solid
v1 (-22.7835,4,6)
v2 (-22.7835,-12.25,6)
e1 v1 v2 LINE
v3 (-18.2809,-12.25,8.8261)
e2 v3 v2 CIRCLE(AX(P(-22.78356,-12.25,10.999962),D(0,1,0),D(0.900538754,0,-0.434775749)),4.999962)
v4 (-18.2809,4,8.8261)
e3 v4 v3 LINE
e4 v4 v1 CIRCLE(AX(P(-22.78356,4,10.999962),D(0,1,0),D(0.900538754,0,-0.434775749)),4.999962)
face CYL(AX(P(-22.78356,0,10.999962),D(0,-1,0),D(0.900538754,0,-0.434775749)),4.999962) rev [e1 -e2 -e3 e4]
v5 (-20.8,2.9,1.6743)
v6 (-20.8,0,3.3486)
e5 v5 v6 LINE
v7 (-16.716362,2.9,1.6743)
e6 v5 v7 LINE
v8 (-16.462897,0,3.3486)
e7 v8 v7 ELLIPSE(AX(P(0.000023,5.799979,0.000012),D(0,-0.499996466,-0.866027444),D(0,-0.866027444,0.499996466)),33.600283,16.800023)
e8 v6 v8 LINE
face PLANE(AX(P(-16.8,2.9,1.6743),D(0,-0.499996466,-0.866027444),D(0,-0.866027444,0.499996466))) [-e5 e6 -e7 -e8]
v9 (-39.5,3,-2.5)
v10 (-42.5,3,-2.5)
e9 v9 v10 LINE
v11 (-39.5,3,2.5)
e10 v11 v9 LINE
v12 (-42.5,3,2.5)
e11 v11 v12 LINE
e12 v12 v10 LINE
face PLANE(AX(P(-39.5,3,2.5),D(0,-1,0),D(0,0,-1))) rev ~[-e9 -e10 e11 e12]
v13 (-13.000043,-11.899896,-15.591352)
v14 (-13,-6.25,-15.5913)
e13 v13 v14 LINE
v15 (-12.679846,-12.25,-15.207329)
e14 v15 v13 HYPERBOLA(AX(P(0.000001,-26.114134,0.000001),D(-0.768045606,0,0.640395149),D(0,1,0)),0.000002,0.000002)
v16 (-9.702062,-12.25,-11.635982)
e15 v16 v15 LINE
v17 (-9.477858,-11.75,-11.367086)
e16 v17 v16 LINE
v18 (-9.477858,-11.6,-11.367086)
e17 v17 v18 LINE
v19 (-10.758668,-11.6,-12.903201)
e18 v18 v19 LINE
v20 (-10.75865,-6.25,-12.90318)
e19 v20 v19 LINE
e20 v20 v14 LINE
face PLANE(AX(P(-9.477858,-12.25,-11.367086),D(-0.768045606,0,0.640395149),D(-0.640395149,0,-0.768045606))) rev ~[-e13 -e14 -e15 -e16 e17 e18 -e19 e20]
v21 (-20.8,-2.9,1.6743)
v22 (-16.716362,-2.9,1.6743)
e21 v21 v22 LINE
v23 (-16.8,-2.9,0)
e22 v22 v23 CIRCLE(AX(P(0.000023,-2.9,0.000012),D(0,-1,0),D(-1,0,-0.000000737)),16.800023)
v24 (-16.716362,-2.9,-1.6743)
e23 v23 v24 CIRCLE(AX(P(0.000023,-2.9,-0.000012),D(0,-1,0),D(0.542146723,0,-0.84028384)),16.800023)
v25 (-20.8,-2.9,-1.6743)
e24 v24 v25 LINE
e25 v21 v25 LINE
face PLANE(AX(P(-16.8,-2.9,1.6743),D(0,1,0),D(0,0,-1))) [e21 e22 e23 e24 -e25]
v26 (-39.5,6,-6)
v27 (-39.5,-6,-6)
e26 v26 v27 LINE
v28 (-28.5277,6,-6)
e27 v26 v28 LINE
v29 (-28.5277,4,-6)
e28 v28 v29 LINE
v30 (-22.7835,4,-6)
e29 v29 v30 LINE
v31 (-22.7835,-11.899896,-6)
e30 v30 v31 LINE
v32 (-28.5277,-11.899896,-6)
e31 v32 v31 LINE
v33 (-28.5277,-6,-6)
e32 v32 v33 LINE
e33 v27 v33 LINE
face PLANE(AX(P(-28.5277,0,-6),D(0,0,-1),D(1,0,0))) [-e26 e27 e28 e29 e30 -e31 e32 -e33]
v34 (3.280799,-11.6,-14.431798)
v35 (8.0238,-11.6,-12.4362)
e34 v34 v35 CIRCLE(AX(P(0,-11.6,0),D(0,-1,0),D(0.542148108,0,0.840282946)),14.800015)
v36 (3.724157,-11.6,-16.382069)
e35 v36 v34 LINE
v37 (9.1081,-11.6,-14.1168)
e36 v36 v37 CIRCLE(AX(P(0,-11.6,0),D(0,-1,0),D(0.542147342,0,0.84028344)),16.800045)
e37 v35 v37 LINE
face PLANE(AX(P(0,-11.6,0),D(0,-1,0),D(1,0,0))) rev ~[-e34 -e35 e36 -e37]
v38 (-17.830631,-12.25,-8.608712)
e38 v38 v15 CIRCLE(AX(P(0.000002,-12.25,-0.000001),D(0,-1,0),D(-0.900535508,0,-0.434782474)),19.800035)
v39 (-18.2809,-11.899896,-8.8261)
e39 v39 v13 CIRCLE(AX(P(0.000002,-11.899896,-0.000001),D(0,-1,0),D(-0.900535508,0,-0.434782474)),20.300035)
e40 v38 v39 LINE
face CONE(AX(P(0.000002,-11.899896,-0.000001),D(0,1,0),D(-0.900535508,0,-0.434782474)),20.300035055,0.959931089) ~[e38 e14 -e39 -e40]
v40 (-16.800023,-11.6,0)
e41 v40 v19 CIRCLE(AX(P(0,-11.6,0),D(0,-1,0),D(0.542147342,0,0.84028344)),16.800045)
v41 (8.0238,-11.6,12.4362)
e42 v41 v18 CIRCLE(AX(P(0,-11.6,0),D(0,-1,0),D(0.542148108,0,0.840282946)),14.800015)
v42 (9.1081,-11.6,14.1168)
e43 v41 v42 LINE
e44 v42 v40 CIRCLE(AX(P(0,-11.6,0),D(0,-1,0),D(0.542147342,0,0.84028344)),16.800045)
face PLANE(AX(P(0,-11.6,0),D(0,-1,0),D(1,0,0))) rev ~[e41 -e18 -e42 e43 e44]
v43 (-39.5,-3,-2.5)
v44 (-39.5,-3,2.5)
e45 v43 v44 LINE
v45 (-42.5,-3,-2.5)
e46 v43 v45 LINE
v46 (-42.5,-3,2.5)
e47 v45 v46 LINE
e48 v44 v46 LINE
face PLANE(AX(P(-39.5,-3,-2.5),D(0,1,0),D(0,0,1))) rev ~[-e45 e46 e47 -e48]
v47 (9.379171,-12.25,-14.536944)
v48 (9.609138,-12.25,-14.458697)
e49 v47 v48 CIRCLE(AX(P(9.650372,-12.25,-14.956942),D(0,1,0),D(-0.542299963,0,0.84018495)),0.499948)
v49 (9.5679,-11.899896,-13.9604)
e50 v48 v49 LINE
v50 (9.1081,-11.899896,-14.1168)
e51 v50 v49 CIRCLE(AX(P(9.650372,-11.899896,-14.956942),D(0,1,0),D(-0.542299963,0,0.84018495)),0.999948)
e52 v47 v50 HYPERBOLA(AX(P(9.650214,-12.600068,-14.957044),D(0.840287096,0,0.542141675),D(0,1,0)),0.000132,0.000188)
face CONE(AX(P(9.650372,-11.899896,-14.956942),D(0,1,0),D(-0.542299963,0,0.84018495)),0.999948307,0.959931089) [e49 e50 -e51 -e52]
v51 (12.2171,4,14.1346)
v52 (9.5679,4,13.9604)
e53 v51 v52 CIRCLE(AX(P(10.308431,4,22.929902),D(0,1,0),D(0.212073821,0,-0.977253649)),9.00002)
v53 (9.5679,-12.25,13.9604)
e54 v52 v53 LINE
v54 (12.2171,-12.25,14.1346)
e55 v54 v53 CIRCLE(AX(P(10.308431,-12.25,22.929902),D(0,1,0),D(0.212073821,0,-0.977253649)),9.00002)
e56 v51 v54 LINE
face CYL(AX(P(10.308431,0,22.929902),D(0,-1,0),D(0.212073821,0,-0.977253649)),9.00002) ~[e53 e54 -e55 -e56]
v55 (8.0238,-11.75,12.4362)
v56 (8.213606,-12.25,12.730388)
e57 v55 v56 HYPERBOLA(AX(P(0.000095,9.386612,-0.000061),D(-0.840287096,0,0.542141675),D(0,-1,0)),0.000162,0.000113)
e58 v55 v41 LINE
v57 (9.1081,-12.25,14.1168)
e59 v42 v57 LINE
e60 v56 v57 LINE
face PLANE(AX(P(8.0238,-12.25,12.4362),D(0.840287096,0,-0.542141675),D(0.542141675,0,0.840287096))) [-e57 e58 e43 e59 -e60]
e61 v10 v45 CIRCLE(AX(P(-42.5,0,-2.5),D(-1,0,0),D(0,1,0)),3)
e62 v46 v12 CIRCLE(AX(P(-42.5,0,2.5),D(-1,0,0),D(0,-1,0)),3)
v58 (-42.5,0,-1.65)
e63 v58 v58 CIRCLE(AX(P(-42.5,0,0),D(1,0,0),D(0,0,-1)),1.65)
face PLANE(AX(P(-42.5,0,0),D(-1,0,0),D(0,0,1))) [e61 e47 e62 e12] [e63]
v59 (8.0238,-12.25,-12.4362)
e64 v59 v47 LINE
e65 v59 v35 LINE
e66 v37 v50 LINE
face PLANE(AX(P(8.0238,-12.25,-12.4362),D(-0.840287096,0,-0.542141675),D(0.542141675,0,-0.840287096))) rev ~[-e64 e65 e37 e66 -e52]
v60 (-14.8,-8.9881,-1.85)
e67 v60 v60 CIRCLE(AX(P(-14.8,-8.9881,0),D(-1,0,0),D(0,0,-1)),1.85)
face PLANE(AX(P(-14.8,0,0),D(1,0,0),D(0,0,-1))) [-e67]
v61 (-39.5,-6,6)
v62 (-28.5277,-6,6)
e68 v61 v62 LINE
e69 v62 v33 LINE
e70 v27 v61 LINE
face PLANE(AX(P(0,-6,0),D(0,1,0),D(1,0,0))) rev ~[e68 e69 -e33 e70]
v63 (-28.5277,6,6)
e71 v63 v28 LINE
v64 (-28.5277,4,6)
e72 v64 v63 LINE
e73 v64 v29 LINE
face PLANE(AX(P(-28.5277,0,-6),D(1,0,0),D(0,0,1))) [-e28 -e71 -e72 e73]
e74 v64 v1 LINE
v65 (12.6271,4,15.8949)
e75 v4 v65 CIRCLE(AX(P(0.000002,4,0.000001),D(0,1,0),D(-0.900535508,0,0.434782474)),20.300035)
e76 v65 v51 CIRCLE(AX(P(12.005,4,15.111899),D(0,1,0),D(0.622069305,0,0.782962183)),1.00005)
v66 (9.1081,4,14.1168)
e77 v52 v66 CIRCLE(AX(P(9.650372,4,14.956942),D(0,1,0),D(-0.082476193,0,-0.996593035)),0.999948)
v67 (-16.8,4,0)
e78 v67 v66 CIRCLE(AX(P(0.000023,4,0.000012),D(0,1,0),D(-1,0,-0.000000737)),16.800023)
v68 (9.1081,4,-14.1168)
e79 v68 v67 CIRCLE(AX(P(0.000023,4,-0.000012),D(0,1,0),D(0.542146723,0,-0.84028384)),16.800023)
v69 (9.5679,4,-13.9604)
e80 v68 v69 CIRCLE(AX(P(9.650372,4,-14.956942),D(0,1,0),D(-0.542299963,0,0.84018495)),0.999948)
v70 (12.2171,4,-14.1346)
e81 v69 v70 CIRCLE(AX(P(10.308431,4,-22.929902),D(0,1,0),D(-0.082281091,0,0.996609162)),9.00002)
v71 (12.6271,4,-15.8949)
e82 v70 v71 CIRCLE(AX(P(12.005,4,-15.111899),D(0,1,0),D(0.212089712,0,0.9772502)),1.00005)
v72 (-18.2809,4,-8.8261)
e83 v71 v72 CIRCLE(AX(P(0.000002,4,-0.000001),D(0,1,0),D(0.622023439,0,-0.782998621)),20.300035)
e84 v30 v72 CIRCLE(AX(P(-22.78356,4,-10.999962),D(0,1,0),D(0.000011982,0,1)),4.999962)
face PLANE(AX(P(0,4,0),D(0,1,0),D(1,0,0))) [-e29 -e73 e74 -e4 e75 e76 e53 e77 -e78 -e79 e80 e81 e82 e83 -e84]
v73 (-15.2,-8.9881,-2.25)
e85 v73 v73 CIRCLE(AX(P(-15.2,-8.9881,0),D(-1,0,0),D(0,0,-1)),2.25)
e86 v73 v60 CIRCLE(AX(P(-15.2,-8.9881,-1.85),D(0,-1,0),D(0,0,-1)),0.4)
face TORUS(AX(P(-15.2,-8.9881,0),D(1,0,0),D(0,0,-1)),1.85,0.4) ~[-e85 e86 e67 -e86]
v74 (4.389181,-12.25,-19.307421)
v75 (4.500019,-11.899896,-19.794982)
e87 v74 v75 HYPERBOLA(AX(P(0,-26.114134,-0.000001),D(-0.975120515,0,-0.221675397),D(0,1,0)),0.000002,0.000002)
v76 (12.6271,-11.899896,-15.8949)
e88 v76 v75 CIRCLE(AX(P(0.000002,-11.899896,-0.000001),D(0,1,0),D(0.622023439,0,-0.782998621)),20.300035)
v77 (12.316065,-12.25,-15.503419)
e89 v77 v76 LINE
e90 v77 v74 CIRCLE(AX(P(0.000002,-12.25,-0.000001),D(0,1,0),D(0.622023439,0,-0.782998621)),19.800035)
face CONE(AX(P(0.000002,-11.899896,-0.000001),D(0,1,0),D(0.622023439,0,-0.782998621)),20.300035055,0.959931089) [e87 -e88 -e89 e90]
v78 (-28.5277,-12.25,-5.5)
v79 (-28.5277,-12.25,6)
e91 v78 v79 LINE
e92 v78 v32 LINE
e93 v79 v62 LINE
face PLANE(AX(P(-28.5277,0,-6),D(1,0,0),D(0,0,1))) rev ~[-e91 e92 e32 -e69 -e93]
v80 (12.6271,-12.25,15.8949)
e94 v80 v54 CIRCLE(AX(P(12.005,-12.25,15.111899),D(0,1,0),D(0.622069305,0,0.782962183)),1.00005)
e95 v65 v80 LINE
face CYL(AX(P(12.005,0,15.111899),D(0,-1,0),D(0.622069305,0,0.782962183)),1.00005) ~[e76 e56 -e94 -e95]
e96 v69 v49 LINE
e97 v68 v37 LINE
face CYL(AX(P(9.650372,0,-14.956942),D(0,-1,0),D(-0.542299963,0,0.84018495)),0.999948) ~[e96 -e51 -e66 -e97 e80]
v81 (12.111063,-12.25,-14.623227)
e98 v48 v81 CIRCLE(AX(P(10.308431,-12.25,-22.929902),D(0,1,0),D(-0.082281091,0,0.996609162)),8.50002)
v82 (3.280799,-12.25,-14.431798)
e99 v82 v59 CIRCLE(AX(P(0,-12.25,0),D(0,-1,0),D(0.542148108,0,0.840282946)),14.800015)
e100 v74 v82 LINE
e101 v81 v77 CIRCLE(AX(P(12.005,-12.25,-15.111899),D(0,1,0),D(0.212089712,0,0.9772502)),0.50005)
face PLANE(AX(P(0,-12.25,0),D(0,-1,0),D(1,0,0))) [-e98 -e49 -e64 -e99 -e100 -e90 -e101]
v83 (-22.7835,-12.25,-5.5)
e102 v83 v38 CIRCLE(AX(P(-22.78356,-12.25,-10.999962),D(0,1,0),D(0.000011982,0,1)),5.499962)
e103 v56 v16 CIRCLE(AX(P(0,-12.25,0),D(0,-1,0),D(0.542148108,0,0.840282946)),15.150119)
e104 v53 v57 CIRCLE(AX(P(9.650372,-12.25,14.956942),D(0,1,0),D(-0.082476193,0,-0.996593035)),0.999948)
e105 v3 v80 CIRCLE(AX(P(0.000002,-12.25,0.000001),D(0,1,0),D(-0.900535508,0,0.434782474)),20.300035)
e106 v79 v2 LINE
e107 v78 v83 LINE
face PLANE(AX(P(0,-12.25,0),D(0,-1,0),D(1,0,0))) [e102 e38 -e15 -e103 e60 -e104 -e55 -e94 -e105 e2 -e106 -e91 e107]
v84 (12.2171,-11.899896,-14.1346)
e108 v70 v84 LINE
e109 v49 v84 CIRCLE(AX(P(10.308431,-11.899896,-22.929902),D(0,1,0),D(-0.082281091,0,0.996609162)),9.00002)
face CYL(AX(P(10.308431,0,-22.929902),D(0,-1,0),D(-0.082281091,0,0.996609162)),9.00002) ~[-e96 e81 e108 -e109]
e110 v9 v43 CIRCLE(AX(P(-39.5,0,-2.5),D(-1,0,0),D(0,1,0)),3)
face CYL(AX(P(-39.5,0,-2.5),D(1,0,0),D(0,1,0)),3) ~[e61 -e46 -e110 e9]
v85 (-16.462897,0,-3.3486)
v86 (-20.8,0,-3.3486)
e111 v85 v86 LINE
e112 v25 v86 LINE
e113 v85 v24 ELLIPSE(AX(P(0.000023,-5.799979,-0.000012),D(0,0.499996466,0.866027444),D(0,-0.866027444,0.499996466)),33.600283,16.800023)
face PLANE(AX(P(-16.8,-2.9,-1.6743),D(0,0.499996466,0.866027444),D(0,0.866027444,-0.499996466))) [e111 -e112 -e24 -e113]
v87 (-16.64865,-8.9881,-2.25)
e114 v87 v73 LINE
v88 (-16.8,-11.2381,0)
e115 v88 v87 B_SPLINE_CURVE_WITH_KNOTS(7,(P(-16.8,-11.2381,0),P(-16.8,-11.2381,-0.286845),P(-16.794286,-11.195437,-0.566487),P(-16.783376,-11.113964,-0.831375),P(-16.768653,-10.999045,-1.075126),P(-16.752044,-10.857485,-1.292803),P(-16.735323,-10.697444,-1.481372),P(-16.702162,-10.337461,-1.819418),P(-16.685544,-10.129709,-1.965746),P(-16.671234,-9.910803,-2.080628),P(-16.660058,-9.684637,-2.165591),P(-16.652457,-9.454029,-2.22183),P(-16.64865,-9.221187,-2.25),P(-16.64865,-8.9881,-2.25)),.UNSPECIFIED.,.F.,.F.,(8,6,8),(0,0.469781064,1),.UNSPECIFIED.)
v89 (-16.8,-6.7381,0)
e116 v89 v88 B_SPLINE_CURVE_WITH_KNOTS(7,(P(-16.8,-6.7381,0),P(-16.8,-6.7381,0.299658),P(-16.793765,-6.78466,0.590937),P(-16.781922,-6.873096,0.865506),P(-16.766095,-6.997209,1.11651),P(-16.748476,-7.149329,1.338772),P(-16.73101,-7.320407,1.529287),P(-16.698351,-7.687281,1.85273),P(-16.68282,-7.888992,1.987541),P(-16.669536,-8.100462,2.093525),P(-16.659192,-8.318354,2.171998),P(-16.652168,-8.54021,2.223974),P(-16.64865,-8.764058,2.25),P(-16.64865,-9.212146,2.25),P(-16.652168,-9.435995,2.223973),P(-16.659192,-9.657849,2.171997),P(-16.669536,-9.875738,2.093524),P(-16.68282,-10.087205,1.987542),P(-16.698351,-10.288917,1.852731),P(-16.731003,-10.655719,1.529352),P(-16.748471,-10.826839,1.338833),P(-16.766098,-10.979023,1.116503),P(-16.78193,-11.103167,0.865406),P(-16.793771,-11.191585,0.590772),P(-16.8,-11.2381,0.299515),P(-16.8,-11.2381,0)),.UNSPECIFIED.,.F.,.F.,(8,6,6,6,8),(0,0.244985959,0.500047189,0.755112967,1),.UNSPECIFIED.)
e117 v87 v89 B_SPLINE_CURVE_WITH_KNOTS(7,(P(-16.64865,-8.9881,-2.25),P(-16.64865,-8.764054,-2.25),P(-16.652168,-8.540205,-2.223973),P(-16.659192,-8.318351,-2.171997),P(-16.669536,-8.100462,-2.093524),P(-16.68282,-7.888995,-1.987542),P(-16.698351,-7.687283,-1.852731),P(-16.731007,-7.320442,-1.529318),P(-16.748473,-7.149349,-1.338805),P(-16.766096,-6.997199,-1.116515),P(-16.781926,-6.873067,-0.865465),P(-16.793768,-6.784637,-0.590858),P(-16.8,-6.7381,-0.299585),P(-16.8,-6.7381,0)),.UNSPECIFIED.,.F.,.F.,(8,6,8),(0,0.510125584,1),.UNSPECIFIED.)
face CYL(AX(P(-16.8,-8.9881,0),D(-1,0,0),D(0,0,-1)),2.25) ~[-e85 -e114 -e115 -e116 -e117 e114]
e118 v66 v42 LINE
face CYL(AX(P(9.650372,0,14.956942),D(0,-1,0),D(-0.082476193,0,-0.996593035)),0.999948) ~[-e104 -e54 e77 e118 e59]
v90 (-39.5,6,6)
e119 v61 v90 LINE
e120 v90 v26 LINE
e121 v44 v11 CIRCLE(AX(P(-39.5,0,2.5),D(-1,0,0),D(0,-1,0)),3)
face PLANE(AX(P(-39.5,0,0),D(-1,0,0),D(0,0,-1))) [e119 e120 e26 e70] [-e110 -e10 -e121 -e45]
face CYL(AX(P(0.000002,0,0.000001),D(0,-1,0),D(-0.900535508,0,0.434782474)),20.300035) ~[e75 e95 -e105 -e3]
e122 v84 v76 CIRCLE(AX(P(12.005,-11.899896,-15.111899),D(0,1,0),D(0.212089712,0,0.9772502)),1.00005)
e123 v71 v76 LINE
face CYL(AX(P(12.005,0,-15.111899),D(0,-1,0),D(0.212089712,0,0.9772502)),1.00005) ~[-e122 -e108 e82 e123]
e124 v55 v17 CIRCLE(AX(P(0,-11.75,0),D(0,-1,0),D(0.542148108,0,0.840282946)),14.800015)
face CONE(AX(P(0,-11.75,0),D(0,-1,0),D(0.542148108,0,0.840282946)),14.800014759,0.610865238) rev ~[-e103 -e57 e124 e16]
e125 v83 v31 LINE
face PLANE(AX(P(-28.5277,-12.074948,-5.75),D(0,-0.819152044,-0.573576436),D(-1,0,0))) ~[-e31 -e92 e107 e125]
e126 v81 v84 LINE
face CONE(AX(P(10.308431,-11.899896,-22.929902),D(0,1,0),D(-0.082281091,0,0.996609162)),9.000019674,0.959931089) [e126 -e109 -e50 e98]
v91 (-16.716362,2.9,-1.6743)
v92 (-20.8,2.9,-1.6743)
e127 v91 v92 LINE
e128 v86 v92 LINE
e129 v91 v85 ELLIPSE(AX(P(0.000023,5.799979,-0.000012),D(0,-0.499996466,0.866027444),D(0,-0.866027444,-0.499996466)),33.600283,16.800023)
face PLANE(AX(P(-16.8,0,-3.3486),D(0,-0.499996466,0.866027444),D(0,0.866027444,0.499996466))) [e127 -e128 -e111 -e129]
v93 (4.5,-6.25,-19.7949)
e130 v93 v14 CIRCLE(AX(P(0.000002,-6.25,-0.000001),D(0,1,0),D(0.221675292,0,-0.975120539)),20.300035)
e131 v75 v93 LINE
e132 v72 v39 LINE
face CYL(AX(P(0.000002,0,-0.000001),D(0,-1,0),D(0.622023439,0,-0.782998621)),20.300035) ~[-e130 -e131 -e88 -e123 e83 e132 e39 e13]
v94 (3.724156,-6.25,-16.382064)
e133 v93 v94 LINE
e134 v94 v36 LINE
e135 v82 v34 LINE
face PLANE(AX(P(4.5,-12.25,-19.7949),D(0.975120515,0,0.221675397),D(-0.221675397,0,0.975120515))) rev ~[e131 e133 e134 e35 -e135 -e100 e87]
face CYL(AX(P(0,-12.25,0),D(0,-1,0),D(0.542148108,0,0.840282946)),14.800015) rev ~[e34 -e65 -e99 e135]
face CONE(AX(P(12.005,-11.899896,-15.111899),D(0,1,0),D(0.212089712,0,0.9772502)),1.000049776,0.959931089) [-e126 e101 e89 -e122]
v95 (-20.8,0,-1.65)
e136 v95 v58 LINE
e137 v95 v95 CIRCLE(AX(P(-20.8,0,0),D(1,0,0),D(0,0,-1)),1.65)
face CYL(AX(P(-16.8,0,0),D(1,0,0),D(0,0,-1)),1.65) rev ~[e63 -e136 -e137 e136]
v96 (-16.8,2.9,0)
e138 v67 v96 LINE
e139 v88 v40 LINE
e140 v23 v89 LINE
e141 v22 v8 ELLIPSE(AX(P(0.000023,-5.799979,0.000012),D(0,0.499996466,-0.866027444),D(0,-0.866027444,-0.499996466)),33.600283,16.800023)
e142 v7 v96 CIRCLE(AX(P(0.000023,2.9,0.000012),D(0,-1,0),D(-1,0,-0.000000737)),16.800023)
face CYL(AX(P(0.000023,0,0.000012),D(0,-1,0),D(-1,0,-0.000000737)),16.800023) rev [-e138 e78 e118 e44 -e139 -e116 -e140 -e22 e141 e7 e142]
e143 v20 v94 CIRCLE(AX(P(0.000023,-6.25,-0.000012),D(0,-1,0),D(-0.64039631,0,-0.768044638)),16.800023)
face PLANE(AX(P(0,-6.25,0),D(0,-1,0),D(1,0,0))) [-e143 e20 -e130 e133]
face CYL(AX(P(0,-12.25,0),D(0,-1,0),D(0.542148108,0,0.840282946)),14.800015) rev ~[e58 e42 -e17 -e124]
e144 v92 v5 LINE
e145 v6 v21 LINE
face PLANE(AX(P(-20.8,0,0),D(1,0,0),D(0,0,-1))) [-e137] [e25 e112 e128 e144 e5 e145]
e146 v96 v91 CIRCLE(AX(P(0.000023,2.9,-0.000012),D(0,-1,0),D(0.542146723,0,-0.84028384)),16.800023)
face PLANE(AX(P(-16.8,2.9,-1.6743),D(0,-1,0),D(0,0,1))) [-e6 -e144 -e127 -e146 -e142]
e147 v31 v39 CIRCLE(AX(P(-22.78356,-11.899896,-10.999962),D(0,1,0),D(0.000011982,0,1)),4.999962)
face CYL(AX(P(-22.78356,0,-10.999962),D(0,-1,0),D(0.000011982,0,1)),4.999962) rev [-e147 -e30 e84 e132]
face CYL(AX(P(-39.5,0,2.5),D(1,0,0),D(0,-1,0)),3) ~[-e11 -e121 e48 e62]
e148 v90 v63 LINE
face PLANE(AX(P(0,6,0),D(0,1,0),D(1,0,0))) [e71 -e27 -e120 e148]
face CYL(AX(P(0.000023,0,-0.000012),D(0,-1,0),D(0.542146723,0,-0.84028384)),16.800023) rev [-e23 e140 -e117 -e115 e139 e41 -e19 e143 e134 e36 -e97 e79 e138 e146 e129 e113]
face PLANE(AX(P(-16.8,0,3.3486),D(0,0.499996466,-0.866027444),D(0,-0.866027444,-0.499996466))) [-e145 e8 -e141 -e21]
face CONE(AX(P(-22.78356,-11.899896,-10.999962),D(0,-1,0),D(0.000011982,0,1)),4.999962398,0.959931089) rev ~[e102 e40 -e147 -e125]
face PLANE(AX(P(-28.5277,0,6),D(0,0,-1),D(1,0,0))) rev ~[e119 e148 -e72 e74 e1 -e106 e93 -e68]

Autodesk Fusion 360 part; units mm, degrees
sketch "Sketch1" plane through (0, 0, 0) normal (0, 1, 0) x (1, 0, 0)
  line L0 (-39.5, 0) -> (-39.5, 6)
  line L1 (-39.5, 6) -> (-22.7835, 6)
  line L2 (-50, 0) -> (42, 0) construction
  line L3 (0, 0) -> (18.7964, 26.8441) construction
  arc A0 (9.1081, 14.1168) -> (-16.8, 0) centre (0, 0) ccw
  arc A1 (12.6271, 15.8949) -> (-18.2809, 8.8261) centre (0, 0) ccw
  arc A2 (-22.7835, 6) -> (-18.2809, 8.8261) centre (-22.7835, 11) ccw
  line L4 (-28.5277, 8) -> (-28.5277, 0)
  line L5 (-39.5, -6) -> (-22.7835, -6)
  arc A3 (-18.2809, -8.8261) -> (12.6271, -15.8949) centre (0, 0) ccw
  arc A4 (-18.2809, -8.8261) -> (-22.7835, -6) centre (-22.7835, -11) ccw
  line L6 (-28.5277, -8) -> (-28.5277, 0)
  arc A5 (-16.8, 0) -> (9.1081, -14.1168) centre (0, 0) ccw
  line L7 (-39.5, 0) -> (-39.5, -6)
  arc A6 (9.5679, 13.9604) -> (12.2171, 14.1346) centre (10.3084, 22.9299) ccw
  line L8 (0, 28) -> (0, 20.2823) construction
  line L9 (0, 20.3) -> (0, -24) construction
  arc A7 (12.2171, 14.1346) -> (12.6271, 15.8949) centre (12.005, 15.1119) ccw
  arc A8 (9.1081, 14.1168) -> (9.5679, 13.9604) centre (9.6502, 14.957) ccw
  arc A9 (12.6271, -15.8949) -> (12.2171, -14.1346) centre (12.005, -15.1119) ccw
  arc A10 (12.2171, -14.1346) -> (9.5679, -13.9604) centre (10.3084, -22.9299) ccw
  arc A11 (9.5679, -13.9604) -> (9.1081, -14.1168) centre (9.6502, -14.957) ccw
  point P0 (-50, 0)
  dimension "d1" = 33.6
  dimension "d4" = 6
  dimension "d5" = 39.5
  dimension "d6" = 3.5
  dimension "d7" = 5
  dimension "d11" = 55
  dimension "d30" = 1
  dimension "d31" = 9
  dimension "d32" = 1
extrude "Extrude1" add sketch "Sketch1" along normal blind 4 and the other way blind 12.25 contours L1 A0 A1 A2 L4 L5 A3 A4 L6 A5 A6 A7 A8 A9 A10 A11
extrude "Extrude2" add sketch "Sketch1" along normal mid plane 12 contours L0 L1 L4 L5 L6 L7
ref_plane "WorkPlane1" through (-16.8, 0, 0) normal (1, 0, 0) x (0, 1, 0)
sketch "Sketch2" plane through (-16.8, 0, 0) normal (1, 0, 0) x (0, 0, -1)
  line L0 (-1.6743, 2.9) -> (-3.3486, 0)
  line L1 (-3.3486, 0) -> (-1.6743, -2.9)
  line L2 (-1.6743, -2.9) -> (1.6743, -2.9)
  line L3 (1.6743, -2.9) -> (3.3486, 0)
  line L4 (3.3486, 0) -> (1.6743, 2.9)
  line L5 (1.6743, 2.9) -> (-1.6743, 2.9)
  circle A0 centre (0, 0) radius 1.65
  line L6 (2.175, 2.175) -> (-2.175, -2.175) construction
  line L7 (-2.175, 2.175) -> (2.175, -2.175) construction
  dimension "d16" = 2.9
  dimension "d25" = 3.3
  dimension "d45" = 4.35
  dimension "d46" = 4.35
extrude "Extrude3" cut sketch "Sketch2" along normal blind 1 and the other way blind 4 contours L0 L1 L2 L3 L4 L5 | A0
sketch "Sketch3" plane through (-39.5, 0, 0) normal (-1, 0, 0) x (0, 0, 1)
  line L0 (6, -6) -> (6, 6)
  line L1 (6, 6) -> (-6, 6)
  line L2 (-6, 6) -> (-6, -6)
  line L3 (-6, -6) -> (6, -6)
  line L4 (2.5, 3) -> (-2.5, 3)
  arc A0 (-2.5, 3) -> (-2.5, -3) centre (-2.5, 0) ccw
  line L5 (-2.5, -3) -> (2.5, -3)
  arc A1 (2.5, -3) -> (2.5, 3) centre (2.5, 0) ccw
  line L6 (2.5, 0) -> (-2.5, 0) construction
  dimension "d64" = 5
  dimension "d65" = 6
extrude "Extrude4" add sketch "Sketch3" along normal blind 3 contours L4 A0 L5 A1
extrude "Extrude5" cut sketch "Sketch2" against normal blind 45 contours A0
sketch "Sketch5" plane through (0, -12.25, 0) normal (0, -1, 0) x (1, 0, 0)
  line L0 (-28.5277, 6) -> (-28.5277, -6)
  arc A0 (12.6271, -15.8949) -> (12.2171, -14.1346) centre (12.005, -15.1119) ccw
  arc A1 (12.2171, -14.1346) -> (9.5679, -13.9604) centre (10.3084, -22.9299) ccw
  arc A2 (9.5679, 13.9604) -> (12.2171, 14.1346) centre (10.3084, 22.9299) ccw
  arc A3 (12.2171, 14.1346) -> (12.6271, 15.8949) centre (12.005, 15.1119) ccw
  arc A4 (12.6271, 15.8949) -> (-18.2809, 8.8261) centre (0, 0) ccw
  arc A5 (-22.7835, 6) -> (-18.2809, 8.8261) centre (-22.7835, 11) ccw
  line L1 (-22.7835, 6) -> (-28.5277, 6)
  line L2 (-28.5277, -6) -> (-22.7835, -6)
  arc A6 (-18.2809, -8.8261) -> (-22.7835, -6) centre (-22.7835, -11) ccw
  arc A7 (-18.2809, -8.8261) -> (12.6271, -15.8949) centre (0, 0) ccw
  arc A8 (9.5679, -13.9604) -> (9.1081, -14.1168) centre (9.6502, -14.957) ccw
  arc A9 (9.1081, 14.1168) -> (9.1081, -14.1168) centre (0, 0) ccw
  arc A10 (9.1081, 14.1168) -> (9.5679, 13.9604) centre (9.6502, 14.957) ccw
  arc A11 (9.1081, 14.1168) -> (9.1081, -14.1168) centre (0, 0) ccw
  arc A12 (9.6502, 14.957) -> (9.6502, -14.957) centre (0, 0) ccw
  arc A13 (8.0238, 12.4362) -> (8.0238, -12.4362) centre (0, 0) ccw
  line L3 (8.0238, 12.4362) -> (9.1081, 14.1168)
  line L4 (8.0238, -12.4362) -> (9.1081, -14.1168)
  dimension "d37" = 1
  dimension "d38" = -2
extrude "Extrude6" add sketch "Sketch5" against normal blind 0.65 contours A9 A11 A13 L3 L4
sketch "Sketch6" plane through (0, -12.25, 0) normal (0, -1, 0) x (1, 0, 0)
  arc A0 (12.6271, 15.8949) -> (-18.2809, 8.8261) centre (0, 0) ccw
  arc A1 (-22.7835, 6) -> (-18.2809, 8.8261) centre (-22.7835, 11) ccw
  line L0 (-22.7835, 6) -> (-28.5277, 6)
  line L1 (-28.5277, 6) -> (-28.5277, -6)
  line L2 (-28.5277, -6) -> (-22.7835, -6)
  arc A2 (-18.2809, -8.8261) -> (-22.7835, -6) centre (-22.7835, -11) ccw
  arc A3 (-18.2809, -8.8261) -> (12.6271, -15.8949) centre (0, 0) ccw
  arc A4 (12.6271, -15.8949) -> (12.2171, -14.1346) centre (12.005, -15.1119) ccw
  arc A5 (12.2171, -14.1346) -> (9.5679, -13.9604) centre (10.3084, -22.9299) ccw
  arc A6 (9.5679, -13.9604) -> (9.1081, -14.1168) centre (9.6502, -14.957) ccw
  line L3 (9.1081, -14.1168) -> (8.0238, -12.4362)
  arc A7 (8.0238, 12.4362) -> (8.0238, -12.4362) centre (0, 0) ccw
  line L4 (8.0238, 12.4362) -> (9.1081, 14.1168)
  arc A8 (9.1081, 14.1168) -> (9.5679, 13.9604) centre (9.6502, 14.957) ccw
  arc A9 (9.5679, 13.9604) -> (12.2171, 14.1346) centre (10.3084, 22.9299) ccw
  arc A10 (12.2171, 14.1346) -> (12.6271, 15.8949) centre (12.005, 15.1119) ccw
  arc A11 (8.0238, 12.4362) -> (8.0238, -12.4362) centre (0, 0) ccw
  arc A12 (-18.2809, -8.8261) -> (12.6271, -15.8949) centre (0, 0) ccw
  line L5 (4.5, -19.7949) -> (0, 0)
  line L6 (0, 0) -> (-13, -15.5913)
  line L7 (0, 0) -> (0, -26.4362)
  point P0 (0, -20.3)
  dimension "d41" = 4.5
  dimension "d42" = 13
extrude "Extrude7" cut sketch "Sketch6" against normal blind 6 contours A3 A7 A11 A12 L6 L7 | A3 A7 A11 A12 L5 L7
sketch "Sketch7" plane through (0, 0, 0) normal (0, 0, 1) x (1, 0, 0)
sketch "Sketch8" plane through (-16.8, 0, 0) normal (1, 0, 0) x (0, 0, -1)
  line L0 (0, 10) -> (0, -14) construction
  line L1 (23, 0) -> (-23, 0)
  line L2 (1.175, -5.45) -> (-1.175, -5.45)
  line L3 (-2.175, -6.45) -> (-2.175, -8.8)
  line L4 (-1.175, -9.8) -> (1.175, -9.8)
  line L5 (2.175, -8.8) -> (2.175, -6.45)
  line L6 (2.175, -5.45) -> (-2.175, -9.8) construction
  line L7 (-2.175, -5.45) -> (2.175, -9.8) construction
  line L8 (-14.8, -11.6) -> (11.3671, -11.6)
  arc A0 (-1.175, -5.45) -> (-2.175, -6.45) centre (-1.175, -6.45) ccw
  arc A1 (2.175, -6.45) -> (1.175, -5.45) centre (1.175, -6.45) ccw
  arc A2 (1.175, -9.8) -> (2.175, -8.8) centre (1.175, -8.8) ccw
  arc A3 (-2.175, -8.8) -> (-1.175, -9.8) centre (-1.175, -8.8) ccw
  circle A4 centre (0, -8.9881) radius 2.25
  point P0 (0, -7.625)
  dimension "d54" = 4.35
  dimension "d55" = 4.35
  dimension "d56" = 1.8
  dimension "d57" = 1
  dimension "d58" = 1
  dimension "d69" = 4.5
extrude "Extrude9" add sketch "Sketch8" along normal blind 2 contours L3 L4 L5 A2 A3 A4 | L3 L4 L5 A2 A3 A4
fillet "Fillet5" radius 0.4 1 faces at (-14.8, -9.4982, -0.6896)
chamfer "Chamfer1" distance 0.5 angle 35 8 edges at (-25.6556, -12.25, -6) (-20.1255, -12.25, -6.7651) (-16.002, -12.25, -12.491) (-11.9238, -12.25, 8.7671) (8.7827, -12.25, -18.3017) (12.979, -12.25, -14.8851) (10.899, -12.25, -13.9493) (9.3284, -12.25, -14.0103) measured on face at (-19.6564, -12.25, -0.0644) measured on face at (-19.6564, -12.25, -0.0644) measured on face at (-19.6564, -12.25, -0.0644) measured on face at (-11.4701, -12.0333, -9.3529) measured on face at (5.6098, -12.25, -17.5511) measured on face at (5.6098, -12.25, -17.5511) measured on face at (5.6098, -12.25, -17.5511) measured on face at (5.6098, -12.25, -17.5511)
equation "d5 = 50 mm - 10.5 mm"
equation "d35 = 4 mm + 9 mm - 0.75 mm"
